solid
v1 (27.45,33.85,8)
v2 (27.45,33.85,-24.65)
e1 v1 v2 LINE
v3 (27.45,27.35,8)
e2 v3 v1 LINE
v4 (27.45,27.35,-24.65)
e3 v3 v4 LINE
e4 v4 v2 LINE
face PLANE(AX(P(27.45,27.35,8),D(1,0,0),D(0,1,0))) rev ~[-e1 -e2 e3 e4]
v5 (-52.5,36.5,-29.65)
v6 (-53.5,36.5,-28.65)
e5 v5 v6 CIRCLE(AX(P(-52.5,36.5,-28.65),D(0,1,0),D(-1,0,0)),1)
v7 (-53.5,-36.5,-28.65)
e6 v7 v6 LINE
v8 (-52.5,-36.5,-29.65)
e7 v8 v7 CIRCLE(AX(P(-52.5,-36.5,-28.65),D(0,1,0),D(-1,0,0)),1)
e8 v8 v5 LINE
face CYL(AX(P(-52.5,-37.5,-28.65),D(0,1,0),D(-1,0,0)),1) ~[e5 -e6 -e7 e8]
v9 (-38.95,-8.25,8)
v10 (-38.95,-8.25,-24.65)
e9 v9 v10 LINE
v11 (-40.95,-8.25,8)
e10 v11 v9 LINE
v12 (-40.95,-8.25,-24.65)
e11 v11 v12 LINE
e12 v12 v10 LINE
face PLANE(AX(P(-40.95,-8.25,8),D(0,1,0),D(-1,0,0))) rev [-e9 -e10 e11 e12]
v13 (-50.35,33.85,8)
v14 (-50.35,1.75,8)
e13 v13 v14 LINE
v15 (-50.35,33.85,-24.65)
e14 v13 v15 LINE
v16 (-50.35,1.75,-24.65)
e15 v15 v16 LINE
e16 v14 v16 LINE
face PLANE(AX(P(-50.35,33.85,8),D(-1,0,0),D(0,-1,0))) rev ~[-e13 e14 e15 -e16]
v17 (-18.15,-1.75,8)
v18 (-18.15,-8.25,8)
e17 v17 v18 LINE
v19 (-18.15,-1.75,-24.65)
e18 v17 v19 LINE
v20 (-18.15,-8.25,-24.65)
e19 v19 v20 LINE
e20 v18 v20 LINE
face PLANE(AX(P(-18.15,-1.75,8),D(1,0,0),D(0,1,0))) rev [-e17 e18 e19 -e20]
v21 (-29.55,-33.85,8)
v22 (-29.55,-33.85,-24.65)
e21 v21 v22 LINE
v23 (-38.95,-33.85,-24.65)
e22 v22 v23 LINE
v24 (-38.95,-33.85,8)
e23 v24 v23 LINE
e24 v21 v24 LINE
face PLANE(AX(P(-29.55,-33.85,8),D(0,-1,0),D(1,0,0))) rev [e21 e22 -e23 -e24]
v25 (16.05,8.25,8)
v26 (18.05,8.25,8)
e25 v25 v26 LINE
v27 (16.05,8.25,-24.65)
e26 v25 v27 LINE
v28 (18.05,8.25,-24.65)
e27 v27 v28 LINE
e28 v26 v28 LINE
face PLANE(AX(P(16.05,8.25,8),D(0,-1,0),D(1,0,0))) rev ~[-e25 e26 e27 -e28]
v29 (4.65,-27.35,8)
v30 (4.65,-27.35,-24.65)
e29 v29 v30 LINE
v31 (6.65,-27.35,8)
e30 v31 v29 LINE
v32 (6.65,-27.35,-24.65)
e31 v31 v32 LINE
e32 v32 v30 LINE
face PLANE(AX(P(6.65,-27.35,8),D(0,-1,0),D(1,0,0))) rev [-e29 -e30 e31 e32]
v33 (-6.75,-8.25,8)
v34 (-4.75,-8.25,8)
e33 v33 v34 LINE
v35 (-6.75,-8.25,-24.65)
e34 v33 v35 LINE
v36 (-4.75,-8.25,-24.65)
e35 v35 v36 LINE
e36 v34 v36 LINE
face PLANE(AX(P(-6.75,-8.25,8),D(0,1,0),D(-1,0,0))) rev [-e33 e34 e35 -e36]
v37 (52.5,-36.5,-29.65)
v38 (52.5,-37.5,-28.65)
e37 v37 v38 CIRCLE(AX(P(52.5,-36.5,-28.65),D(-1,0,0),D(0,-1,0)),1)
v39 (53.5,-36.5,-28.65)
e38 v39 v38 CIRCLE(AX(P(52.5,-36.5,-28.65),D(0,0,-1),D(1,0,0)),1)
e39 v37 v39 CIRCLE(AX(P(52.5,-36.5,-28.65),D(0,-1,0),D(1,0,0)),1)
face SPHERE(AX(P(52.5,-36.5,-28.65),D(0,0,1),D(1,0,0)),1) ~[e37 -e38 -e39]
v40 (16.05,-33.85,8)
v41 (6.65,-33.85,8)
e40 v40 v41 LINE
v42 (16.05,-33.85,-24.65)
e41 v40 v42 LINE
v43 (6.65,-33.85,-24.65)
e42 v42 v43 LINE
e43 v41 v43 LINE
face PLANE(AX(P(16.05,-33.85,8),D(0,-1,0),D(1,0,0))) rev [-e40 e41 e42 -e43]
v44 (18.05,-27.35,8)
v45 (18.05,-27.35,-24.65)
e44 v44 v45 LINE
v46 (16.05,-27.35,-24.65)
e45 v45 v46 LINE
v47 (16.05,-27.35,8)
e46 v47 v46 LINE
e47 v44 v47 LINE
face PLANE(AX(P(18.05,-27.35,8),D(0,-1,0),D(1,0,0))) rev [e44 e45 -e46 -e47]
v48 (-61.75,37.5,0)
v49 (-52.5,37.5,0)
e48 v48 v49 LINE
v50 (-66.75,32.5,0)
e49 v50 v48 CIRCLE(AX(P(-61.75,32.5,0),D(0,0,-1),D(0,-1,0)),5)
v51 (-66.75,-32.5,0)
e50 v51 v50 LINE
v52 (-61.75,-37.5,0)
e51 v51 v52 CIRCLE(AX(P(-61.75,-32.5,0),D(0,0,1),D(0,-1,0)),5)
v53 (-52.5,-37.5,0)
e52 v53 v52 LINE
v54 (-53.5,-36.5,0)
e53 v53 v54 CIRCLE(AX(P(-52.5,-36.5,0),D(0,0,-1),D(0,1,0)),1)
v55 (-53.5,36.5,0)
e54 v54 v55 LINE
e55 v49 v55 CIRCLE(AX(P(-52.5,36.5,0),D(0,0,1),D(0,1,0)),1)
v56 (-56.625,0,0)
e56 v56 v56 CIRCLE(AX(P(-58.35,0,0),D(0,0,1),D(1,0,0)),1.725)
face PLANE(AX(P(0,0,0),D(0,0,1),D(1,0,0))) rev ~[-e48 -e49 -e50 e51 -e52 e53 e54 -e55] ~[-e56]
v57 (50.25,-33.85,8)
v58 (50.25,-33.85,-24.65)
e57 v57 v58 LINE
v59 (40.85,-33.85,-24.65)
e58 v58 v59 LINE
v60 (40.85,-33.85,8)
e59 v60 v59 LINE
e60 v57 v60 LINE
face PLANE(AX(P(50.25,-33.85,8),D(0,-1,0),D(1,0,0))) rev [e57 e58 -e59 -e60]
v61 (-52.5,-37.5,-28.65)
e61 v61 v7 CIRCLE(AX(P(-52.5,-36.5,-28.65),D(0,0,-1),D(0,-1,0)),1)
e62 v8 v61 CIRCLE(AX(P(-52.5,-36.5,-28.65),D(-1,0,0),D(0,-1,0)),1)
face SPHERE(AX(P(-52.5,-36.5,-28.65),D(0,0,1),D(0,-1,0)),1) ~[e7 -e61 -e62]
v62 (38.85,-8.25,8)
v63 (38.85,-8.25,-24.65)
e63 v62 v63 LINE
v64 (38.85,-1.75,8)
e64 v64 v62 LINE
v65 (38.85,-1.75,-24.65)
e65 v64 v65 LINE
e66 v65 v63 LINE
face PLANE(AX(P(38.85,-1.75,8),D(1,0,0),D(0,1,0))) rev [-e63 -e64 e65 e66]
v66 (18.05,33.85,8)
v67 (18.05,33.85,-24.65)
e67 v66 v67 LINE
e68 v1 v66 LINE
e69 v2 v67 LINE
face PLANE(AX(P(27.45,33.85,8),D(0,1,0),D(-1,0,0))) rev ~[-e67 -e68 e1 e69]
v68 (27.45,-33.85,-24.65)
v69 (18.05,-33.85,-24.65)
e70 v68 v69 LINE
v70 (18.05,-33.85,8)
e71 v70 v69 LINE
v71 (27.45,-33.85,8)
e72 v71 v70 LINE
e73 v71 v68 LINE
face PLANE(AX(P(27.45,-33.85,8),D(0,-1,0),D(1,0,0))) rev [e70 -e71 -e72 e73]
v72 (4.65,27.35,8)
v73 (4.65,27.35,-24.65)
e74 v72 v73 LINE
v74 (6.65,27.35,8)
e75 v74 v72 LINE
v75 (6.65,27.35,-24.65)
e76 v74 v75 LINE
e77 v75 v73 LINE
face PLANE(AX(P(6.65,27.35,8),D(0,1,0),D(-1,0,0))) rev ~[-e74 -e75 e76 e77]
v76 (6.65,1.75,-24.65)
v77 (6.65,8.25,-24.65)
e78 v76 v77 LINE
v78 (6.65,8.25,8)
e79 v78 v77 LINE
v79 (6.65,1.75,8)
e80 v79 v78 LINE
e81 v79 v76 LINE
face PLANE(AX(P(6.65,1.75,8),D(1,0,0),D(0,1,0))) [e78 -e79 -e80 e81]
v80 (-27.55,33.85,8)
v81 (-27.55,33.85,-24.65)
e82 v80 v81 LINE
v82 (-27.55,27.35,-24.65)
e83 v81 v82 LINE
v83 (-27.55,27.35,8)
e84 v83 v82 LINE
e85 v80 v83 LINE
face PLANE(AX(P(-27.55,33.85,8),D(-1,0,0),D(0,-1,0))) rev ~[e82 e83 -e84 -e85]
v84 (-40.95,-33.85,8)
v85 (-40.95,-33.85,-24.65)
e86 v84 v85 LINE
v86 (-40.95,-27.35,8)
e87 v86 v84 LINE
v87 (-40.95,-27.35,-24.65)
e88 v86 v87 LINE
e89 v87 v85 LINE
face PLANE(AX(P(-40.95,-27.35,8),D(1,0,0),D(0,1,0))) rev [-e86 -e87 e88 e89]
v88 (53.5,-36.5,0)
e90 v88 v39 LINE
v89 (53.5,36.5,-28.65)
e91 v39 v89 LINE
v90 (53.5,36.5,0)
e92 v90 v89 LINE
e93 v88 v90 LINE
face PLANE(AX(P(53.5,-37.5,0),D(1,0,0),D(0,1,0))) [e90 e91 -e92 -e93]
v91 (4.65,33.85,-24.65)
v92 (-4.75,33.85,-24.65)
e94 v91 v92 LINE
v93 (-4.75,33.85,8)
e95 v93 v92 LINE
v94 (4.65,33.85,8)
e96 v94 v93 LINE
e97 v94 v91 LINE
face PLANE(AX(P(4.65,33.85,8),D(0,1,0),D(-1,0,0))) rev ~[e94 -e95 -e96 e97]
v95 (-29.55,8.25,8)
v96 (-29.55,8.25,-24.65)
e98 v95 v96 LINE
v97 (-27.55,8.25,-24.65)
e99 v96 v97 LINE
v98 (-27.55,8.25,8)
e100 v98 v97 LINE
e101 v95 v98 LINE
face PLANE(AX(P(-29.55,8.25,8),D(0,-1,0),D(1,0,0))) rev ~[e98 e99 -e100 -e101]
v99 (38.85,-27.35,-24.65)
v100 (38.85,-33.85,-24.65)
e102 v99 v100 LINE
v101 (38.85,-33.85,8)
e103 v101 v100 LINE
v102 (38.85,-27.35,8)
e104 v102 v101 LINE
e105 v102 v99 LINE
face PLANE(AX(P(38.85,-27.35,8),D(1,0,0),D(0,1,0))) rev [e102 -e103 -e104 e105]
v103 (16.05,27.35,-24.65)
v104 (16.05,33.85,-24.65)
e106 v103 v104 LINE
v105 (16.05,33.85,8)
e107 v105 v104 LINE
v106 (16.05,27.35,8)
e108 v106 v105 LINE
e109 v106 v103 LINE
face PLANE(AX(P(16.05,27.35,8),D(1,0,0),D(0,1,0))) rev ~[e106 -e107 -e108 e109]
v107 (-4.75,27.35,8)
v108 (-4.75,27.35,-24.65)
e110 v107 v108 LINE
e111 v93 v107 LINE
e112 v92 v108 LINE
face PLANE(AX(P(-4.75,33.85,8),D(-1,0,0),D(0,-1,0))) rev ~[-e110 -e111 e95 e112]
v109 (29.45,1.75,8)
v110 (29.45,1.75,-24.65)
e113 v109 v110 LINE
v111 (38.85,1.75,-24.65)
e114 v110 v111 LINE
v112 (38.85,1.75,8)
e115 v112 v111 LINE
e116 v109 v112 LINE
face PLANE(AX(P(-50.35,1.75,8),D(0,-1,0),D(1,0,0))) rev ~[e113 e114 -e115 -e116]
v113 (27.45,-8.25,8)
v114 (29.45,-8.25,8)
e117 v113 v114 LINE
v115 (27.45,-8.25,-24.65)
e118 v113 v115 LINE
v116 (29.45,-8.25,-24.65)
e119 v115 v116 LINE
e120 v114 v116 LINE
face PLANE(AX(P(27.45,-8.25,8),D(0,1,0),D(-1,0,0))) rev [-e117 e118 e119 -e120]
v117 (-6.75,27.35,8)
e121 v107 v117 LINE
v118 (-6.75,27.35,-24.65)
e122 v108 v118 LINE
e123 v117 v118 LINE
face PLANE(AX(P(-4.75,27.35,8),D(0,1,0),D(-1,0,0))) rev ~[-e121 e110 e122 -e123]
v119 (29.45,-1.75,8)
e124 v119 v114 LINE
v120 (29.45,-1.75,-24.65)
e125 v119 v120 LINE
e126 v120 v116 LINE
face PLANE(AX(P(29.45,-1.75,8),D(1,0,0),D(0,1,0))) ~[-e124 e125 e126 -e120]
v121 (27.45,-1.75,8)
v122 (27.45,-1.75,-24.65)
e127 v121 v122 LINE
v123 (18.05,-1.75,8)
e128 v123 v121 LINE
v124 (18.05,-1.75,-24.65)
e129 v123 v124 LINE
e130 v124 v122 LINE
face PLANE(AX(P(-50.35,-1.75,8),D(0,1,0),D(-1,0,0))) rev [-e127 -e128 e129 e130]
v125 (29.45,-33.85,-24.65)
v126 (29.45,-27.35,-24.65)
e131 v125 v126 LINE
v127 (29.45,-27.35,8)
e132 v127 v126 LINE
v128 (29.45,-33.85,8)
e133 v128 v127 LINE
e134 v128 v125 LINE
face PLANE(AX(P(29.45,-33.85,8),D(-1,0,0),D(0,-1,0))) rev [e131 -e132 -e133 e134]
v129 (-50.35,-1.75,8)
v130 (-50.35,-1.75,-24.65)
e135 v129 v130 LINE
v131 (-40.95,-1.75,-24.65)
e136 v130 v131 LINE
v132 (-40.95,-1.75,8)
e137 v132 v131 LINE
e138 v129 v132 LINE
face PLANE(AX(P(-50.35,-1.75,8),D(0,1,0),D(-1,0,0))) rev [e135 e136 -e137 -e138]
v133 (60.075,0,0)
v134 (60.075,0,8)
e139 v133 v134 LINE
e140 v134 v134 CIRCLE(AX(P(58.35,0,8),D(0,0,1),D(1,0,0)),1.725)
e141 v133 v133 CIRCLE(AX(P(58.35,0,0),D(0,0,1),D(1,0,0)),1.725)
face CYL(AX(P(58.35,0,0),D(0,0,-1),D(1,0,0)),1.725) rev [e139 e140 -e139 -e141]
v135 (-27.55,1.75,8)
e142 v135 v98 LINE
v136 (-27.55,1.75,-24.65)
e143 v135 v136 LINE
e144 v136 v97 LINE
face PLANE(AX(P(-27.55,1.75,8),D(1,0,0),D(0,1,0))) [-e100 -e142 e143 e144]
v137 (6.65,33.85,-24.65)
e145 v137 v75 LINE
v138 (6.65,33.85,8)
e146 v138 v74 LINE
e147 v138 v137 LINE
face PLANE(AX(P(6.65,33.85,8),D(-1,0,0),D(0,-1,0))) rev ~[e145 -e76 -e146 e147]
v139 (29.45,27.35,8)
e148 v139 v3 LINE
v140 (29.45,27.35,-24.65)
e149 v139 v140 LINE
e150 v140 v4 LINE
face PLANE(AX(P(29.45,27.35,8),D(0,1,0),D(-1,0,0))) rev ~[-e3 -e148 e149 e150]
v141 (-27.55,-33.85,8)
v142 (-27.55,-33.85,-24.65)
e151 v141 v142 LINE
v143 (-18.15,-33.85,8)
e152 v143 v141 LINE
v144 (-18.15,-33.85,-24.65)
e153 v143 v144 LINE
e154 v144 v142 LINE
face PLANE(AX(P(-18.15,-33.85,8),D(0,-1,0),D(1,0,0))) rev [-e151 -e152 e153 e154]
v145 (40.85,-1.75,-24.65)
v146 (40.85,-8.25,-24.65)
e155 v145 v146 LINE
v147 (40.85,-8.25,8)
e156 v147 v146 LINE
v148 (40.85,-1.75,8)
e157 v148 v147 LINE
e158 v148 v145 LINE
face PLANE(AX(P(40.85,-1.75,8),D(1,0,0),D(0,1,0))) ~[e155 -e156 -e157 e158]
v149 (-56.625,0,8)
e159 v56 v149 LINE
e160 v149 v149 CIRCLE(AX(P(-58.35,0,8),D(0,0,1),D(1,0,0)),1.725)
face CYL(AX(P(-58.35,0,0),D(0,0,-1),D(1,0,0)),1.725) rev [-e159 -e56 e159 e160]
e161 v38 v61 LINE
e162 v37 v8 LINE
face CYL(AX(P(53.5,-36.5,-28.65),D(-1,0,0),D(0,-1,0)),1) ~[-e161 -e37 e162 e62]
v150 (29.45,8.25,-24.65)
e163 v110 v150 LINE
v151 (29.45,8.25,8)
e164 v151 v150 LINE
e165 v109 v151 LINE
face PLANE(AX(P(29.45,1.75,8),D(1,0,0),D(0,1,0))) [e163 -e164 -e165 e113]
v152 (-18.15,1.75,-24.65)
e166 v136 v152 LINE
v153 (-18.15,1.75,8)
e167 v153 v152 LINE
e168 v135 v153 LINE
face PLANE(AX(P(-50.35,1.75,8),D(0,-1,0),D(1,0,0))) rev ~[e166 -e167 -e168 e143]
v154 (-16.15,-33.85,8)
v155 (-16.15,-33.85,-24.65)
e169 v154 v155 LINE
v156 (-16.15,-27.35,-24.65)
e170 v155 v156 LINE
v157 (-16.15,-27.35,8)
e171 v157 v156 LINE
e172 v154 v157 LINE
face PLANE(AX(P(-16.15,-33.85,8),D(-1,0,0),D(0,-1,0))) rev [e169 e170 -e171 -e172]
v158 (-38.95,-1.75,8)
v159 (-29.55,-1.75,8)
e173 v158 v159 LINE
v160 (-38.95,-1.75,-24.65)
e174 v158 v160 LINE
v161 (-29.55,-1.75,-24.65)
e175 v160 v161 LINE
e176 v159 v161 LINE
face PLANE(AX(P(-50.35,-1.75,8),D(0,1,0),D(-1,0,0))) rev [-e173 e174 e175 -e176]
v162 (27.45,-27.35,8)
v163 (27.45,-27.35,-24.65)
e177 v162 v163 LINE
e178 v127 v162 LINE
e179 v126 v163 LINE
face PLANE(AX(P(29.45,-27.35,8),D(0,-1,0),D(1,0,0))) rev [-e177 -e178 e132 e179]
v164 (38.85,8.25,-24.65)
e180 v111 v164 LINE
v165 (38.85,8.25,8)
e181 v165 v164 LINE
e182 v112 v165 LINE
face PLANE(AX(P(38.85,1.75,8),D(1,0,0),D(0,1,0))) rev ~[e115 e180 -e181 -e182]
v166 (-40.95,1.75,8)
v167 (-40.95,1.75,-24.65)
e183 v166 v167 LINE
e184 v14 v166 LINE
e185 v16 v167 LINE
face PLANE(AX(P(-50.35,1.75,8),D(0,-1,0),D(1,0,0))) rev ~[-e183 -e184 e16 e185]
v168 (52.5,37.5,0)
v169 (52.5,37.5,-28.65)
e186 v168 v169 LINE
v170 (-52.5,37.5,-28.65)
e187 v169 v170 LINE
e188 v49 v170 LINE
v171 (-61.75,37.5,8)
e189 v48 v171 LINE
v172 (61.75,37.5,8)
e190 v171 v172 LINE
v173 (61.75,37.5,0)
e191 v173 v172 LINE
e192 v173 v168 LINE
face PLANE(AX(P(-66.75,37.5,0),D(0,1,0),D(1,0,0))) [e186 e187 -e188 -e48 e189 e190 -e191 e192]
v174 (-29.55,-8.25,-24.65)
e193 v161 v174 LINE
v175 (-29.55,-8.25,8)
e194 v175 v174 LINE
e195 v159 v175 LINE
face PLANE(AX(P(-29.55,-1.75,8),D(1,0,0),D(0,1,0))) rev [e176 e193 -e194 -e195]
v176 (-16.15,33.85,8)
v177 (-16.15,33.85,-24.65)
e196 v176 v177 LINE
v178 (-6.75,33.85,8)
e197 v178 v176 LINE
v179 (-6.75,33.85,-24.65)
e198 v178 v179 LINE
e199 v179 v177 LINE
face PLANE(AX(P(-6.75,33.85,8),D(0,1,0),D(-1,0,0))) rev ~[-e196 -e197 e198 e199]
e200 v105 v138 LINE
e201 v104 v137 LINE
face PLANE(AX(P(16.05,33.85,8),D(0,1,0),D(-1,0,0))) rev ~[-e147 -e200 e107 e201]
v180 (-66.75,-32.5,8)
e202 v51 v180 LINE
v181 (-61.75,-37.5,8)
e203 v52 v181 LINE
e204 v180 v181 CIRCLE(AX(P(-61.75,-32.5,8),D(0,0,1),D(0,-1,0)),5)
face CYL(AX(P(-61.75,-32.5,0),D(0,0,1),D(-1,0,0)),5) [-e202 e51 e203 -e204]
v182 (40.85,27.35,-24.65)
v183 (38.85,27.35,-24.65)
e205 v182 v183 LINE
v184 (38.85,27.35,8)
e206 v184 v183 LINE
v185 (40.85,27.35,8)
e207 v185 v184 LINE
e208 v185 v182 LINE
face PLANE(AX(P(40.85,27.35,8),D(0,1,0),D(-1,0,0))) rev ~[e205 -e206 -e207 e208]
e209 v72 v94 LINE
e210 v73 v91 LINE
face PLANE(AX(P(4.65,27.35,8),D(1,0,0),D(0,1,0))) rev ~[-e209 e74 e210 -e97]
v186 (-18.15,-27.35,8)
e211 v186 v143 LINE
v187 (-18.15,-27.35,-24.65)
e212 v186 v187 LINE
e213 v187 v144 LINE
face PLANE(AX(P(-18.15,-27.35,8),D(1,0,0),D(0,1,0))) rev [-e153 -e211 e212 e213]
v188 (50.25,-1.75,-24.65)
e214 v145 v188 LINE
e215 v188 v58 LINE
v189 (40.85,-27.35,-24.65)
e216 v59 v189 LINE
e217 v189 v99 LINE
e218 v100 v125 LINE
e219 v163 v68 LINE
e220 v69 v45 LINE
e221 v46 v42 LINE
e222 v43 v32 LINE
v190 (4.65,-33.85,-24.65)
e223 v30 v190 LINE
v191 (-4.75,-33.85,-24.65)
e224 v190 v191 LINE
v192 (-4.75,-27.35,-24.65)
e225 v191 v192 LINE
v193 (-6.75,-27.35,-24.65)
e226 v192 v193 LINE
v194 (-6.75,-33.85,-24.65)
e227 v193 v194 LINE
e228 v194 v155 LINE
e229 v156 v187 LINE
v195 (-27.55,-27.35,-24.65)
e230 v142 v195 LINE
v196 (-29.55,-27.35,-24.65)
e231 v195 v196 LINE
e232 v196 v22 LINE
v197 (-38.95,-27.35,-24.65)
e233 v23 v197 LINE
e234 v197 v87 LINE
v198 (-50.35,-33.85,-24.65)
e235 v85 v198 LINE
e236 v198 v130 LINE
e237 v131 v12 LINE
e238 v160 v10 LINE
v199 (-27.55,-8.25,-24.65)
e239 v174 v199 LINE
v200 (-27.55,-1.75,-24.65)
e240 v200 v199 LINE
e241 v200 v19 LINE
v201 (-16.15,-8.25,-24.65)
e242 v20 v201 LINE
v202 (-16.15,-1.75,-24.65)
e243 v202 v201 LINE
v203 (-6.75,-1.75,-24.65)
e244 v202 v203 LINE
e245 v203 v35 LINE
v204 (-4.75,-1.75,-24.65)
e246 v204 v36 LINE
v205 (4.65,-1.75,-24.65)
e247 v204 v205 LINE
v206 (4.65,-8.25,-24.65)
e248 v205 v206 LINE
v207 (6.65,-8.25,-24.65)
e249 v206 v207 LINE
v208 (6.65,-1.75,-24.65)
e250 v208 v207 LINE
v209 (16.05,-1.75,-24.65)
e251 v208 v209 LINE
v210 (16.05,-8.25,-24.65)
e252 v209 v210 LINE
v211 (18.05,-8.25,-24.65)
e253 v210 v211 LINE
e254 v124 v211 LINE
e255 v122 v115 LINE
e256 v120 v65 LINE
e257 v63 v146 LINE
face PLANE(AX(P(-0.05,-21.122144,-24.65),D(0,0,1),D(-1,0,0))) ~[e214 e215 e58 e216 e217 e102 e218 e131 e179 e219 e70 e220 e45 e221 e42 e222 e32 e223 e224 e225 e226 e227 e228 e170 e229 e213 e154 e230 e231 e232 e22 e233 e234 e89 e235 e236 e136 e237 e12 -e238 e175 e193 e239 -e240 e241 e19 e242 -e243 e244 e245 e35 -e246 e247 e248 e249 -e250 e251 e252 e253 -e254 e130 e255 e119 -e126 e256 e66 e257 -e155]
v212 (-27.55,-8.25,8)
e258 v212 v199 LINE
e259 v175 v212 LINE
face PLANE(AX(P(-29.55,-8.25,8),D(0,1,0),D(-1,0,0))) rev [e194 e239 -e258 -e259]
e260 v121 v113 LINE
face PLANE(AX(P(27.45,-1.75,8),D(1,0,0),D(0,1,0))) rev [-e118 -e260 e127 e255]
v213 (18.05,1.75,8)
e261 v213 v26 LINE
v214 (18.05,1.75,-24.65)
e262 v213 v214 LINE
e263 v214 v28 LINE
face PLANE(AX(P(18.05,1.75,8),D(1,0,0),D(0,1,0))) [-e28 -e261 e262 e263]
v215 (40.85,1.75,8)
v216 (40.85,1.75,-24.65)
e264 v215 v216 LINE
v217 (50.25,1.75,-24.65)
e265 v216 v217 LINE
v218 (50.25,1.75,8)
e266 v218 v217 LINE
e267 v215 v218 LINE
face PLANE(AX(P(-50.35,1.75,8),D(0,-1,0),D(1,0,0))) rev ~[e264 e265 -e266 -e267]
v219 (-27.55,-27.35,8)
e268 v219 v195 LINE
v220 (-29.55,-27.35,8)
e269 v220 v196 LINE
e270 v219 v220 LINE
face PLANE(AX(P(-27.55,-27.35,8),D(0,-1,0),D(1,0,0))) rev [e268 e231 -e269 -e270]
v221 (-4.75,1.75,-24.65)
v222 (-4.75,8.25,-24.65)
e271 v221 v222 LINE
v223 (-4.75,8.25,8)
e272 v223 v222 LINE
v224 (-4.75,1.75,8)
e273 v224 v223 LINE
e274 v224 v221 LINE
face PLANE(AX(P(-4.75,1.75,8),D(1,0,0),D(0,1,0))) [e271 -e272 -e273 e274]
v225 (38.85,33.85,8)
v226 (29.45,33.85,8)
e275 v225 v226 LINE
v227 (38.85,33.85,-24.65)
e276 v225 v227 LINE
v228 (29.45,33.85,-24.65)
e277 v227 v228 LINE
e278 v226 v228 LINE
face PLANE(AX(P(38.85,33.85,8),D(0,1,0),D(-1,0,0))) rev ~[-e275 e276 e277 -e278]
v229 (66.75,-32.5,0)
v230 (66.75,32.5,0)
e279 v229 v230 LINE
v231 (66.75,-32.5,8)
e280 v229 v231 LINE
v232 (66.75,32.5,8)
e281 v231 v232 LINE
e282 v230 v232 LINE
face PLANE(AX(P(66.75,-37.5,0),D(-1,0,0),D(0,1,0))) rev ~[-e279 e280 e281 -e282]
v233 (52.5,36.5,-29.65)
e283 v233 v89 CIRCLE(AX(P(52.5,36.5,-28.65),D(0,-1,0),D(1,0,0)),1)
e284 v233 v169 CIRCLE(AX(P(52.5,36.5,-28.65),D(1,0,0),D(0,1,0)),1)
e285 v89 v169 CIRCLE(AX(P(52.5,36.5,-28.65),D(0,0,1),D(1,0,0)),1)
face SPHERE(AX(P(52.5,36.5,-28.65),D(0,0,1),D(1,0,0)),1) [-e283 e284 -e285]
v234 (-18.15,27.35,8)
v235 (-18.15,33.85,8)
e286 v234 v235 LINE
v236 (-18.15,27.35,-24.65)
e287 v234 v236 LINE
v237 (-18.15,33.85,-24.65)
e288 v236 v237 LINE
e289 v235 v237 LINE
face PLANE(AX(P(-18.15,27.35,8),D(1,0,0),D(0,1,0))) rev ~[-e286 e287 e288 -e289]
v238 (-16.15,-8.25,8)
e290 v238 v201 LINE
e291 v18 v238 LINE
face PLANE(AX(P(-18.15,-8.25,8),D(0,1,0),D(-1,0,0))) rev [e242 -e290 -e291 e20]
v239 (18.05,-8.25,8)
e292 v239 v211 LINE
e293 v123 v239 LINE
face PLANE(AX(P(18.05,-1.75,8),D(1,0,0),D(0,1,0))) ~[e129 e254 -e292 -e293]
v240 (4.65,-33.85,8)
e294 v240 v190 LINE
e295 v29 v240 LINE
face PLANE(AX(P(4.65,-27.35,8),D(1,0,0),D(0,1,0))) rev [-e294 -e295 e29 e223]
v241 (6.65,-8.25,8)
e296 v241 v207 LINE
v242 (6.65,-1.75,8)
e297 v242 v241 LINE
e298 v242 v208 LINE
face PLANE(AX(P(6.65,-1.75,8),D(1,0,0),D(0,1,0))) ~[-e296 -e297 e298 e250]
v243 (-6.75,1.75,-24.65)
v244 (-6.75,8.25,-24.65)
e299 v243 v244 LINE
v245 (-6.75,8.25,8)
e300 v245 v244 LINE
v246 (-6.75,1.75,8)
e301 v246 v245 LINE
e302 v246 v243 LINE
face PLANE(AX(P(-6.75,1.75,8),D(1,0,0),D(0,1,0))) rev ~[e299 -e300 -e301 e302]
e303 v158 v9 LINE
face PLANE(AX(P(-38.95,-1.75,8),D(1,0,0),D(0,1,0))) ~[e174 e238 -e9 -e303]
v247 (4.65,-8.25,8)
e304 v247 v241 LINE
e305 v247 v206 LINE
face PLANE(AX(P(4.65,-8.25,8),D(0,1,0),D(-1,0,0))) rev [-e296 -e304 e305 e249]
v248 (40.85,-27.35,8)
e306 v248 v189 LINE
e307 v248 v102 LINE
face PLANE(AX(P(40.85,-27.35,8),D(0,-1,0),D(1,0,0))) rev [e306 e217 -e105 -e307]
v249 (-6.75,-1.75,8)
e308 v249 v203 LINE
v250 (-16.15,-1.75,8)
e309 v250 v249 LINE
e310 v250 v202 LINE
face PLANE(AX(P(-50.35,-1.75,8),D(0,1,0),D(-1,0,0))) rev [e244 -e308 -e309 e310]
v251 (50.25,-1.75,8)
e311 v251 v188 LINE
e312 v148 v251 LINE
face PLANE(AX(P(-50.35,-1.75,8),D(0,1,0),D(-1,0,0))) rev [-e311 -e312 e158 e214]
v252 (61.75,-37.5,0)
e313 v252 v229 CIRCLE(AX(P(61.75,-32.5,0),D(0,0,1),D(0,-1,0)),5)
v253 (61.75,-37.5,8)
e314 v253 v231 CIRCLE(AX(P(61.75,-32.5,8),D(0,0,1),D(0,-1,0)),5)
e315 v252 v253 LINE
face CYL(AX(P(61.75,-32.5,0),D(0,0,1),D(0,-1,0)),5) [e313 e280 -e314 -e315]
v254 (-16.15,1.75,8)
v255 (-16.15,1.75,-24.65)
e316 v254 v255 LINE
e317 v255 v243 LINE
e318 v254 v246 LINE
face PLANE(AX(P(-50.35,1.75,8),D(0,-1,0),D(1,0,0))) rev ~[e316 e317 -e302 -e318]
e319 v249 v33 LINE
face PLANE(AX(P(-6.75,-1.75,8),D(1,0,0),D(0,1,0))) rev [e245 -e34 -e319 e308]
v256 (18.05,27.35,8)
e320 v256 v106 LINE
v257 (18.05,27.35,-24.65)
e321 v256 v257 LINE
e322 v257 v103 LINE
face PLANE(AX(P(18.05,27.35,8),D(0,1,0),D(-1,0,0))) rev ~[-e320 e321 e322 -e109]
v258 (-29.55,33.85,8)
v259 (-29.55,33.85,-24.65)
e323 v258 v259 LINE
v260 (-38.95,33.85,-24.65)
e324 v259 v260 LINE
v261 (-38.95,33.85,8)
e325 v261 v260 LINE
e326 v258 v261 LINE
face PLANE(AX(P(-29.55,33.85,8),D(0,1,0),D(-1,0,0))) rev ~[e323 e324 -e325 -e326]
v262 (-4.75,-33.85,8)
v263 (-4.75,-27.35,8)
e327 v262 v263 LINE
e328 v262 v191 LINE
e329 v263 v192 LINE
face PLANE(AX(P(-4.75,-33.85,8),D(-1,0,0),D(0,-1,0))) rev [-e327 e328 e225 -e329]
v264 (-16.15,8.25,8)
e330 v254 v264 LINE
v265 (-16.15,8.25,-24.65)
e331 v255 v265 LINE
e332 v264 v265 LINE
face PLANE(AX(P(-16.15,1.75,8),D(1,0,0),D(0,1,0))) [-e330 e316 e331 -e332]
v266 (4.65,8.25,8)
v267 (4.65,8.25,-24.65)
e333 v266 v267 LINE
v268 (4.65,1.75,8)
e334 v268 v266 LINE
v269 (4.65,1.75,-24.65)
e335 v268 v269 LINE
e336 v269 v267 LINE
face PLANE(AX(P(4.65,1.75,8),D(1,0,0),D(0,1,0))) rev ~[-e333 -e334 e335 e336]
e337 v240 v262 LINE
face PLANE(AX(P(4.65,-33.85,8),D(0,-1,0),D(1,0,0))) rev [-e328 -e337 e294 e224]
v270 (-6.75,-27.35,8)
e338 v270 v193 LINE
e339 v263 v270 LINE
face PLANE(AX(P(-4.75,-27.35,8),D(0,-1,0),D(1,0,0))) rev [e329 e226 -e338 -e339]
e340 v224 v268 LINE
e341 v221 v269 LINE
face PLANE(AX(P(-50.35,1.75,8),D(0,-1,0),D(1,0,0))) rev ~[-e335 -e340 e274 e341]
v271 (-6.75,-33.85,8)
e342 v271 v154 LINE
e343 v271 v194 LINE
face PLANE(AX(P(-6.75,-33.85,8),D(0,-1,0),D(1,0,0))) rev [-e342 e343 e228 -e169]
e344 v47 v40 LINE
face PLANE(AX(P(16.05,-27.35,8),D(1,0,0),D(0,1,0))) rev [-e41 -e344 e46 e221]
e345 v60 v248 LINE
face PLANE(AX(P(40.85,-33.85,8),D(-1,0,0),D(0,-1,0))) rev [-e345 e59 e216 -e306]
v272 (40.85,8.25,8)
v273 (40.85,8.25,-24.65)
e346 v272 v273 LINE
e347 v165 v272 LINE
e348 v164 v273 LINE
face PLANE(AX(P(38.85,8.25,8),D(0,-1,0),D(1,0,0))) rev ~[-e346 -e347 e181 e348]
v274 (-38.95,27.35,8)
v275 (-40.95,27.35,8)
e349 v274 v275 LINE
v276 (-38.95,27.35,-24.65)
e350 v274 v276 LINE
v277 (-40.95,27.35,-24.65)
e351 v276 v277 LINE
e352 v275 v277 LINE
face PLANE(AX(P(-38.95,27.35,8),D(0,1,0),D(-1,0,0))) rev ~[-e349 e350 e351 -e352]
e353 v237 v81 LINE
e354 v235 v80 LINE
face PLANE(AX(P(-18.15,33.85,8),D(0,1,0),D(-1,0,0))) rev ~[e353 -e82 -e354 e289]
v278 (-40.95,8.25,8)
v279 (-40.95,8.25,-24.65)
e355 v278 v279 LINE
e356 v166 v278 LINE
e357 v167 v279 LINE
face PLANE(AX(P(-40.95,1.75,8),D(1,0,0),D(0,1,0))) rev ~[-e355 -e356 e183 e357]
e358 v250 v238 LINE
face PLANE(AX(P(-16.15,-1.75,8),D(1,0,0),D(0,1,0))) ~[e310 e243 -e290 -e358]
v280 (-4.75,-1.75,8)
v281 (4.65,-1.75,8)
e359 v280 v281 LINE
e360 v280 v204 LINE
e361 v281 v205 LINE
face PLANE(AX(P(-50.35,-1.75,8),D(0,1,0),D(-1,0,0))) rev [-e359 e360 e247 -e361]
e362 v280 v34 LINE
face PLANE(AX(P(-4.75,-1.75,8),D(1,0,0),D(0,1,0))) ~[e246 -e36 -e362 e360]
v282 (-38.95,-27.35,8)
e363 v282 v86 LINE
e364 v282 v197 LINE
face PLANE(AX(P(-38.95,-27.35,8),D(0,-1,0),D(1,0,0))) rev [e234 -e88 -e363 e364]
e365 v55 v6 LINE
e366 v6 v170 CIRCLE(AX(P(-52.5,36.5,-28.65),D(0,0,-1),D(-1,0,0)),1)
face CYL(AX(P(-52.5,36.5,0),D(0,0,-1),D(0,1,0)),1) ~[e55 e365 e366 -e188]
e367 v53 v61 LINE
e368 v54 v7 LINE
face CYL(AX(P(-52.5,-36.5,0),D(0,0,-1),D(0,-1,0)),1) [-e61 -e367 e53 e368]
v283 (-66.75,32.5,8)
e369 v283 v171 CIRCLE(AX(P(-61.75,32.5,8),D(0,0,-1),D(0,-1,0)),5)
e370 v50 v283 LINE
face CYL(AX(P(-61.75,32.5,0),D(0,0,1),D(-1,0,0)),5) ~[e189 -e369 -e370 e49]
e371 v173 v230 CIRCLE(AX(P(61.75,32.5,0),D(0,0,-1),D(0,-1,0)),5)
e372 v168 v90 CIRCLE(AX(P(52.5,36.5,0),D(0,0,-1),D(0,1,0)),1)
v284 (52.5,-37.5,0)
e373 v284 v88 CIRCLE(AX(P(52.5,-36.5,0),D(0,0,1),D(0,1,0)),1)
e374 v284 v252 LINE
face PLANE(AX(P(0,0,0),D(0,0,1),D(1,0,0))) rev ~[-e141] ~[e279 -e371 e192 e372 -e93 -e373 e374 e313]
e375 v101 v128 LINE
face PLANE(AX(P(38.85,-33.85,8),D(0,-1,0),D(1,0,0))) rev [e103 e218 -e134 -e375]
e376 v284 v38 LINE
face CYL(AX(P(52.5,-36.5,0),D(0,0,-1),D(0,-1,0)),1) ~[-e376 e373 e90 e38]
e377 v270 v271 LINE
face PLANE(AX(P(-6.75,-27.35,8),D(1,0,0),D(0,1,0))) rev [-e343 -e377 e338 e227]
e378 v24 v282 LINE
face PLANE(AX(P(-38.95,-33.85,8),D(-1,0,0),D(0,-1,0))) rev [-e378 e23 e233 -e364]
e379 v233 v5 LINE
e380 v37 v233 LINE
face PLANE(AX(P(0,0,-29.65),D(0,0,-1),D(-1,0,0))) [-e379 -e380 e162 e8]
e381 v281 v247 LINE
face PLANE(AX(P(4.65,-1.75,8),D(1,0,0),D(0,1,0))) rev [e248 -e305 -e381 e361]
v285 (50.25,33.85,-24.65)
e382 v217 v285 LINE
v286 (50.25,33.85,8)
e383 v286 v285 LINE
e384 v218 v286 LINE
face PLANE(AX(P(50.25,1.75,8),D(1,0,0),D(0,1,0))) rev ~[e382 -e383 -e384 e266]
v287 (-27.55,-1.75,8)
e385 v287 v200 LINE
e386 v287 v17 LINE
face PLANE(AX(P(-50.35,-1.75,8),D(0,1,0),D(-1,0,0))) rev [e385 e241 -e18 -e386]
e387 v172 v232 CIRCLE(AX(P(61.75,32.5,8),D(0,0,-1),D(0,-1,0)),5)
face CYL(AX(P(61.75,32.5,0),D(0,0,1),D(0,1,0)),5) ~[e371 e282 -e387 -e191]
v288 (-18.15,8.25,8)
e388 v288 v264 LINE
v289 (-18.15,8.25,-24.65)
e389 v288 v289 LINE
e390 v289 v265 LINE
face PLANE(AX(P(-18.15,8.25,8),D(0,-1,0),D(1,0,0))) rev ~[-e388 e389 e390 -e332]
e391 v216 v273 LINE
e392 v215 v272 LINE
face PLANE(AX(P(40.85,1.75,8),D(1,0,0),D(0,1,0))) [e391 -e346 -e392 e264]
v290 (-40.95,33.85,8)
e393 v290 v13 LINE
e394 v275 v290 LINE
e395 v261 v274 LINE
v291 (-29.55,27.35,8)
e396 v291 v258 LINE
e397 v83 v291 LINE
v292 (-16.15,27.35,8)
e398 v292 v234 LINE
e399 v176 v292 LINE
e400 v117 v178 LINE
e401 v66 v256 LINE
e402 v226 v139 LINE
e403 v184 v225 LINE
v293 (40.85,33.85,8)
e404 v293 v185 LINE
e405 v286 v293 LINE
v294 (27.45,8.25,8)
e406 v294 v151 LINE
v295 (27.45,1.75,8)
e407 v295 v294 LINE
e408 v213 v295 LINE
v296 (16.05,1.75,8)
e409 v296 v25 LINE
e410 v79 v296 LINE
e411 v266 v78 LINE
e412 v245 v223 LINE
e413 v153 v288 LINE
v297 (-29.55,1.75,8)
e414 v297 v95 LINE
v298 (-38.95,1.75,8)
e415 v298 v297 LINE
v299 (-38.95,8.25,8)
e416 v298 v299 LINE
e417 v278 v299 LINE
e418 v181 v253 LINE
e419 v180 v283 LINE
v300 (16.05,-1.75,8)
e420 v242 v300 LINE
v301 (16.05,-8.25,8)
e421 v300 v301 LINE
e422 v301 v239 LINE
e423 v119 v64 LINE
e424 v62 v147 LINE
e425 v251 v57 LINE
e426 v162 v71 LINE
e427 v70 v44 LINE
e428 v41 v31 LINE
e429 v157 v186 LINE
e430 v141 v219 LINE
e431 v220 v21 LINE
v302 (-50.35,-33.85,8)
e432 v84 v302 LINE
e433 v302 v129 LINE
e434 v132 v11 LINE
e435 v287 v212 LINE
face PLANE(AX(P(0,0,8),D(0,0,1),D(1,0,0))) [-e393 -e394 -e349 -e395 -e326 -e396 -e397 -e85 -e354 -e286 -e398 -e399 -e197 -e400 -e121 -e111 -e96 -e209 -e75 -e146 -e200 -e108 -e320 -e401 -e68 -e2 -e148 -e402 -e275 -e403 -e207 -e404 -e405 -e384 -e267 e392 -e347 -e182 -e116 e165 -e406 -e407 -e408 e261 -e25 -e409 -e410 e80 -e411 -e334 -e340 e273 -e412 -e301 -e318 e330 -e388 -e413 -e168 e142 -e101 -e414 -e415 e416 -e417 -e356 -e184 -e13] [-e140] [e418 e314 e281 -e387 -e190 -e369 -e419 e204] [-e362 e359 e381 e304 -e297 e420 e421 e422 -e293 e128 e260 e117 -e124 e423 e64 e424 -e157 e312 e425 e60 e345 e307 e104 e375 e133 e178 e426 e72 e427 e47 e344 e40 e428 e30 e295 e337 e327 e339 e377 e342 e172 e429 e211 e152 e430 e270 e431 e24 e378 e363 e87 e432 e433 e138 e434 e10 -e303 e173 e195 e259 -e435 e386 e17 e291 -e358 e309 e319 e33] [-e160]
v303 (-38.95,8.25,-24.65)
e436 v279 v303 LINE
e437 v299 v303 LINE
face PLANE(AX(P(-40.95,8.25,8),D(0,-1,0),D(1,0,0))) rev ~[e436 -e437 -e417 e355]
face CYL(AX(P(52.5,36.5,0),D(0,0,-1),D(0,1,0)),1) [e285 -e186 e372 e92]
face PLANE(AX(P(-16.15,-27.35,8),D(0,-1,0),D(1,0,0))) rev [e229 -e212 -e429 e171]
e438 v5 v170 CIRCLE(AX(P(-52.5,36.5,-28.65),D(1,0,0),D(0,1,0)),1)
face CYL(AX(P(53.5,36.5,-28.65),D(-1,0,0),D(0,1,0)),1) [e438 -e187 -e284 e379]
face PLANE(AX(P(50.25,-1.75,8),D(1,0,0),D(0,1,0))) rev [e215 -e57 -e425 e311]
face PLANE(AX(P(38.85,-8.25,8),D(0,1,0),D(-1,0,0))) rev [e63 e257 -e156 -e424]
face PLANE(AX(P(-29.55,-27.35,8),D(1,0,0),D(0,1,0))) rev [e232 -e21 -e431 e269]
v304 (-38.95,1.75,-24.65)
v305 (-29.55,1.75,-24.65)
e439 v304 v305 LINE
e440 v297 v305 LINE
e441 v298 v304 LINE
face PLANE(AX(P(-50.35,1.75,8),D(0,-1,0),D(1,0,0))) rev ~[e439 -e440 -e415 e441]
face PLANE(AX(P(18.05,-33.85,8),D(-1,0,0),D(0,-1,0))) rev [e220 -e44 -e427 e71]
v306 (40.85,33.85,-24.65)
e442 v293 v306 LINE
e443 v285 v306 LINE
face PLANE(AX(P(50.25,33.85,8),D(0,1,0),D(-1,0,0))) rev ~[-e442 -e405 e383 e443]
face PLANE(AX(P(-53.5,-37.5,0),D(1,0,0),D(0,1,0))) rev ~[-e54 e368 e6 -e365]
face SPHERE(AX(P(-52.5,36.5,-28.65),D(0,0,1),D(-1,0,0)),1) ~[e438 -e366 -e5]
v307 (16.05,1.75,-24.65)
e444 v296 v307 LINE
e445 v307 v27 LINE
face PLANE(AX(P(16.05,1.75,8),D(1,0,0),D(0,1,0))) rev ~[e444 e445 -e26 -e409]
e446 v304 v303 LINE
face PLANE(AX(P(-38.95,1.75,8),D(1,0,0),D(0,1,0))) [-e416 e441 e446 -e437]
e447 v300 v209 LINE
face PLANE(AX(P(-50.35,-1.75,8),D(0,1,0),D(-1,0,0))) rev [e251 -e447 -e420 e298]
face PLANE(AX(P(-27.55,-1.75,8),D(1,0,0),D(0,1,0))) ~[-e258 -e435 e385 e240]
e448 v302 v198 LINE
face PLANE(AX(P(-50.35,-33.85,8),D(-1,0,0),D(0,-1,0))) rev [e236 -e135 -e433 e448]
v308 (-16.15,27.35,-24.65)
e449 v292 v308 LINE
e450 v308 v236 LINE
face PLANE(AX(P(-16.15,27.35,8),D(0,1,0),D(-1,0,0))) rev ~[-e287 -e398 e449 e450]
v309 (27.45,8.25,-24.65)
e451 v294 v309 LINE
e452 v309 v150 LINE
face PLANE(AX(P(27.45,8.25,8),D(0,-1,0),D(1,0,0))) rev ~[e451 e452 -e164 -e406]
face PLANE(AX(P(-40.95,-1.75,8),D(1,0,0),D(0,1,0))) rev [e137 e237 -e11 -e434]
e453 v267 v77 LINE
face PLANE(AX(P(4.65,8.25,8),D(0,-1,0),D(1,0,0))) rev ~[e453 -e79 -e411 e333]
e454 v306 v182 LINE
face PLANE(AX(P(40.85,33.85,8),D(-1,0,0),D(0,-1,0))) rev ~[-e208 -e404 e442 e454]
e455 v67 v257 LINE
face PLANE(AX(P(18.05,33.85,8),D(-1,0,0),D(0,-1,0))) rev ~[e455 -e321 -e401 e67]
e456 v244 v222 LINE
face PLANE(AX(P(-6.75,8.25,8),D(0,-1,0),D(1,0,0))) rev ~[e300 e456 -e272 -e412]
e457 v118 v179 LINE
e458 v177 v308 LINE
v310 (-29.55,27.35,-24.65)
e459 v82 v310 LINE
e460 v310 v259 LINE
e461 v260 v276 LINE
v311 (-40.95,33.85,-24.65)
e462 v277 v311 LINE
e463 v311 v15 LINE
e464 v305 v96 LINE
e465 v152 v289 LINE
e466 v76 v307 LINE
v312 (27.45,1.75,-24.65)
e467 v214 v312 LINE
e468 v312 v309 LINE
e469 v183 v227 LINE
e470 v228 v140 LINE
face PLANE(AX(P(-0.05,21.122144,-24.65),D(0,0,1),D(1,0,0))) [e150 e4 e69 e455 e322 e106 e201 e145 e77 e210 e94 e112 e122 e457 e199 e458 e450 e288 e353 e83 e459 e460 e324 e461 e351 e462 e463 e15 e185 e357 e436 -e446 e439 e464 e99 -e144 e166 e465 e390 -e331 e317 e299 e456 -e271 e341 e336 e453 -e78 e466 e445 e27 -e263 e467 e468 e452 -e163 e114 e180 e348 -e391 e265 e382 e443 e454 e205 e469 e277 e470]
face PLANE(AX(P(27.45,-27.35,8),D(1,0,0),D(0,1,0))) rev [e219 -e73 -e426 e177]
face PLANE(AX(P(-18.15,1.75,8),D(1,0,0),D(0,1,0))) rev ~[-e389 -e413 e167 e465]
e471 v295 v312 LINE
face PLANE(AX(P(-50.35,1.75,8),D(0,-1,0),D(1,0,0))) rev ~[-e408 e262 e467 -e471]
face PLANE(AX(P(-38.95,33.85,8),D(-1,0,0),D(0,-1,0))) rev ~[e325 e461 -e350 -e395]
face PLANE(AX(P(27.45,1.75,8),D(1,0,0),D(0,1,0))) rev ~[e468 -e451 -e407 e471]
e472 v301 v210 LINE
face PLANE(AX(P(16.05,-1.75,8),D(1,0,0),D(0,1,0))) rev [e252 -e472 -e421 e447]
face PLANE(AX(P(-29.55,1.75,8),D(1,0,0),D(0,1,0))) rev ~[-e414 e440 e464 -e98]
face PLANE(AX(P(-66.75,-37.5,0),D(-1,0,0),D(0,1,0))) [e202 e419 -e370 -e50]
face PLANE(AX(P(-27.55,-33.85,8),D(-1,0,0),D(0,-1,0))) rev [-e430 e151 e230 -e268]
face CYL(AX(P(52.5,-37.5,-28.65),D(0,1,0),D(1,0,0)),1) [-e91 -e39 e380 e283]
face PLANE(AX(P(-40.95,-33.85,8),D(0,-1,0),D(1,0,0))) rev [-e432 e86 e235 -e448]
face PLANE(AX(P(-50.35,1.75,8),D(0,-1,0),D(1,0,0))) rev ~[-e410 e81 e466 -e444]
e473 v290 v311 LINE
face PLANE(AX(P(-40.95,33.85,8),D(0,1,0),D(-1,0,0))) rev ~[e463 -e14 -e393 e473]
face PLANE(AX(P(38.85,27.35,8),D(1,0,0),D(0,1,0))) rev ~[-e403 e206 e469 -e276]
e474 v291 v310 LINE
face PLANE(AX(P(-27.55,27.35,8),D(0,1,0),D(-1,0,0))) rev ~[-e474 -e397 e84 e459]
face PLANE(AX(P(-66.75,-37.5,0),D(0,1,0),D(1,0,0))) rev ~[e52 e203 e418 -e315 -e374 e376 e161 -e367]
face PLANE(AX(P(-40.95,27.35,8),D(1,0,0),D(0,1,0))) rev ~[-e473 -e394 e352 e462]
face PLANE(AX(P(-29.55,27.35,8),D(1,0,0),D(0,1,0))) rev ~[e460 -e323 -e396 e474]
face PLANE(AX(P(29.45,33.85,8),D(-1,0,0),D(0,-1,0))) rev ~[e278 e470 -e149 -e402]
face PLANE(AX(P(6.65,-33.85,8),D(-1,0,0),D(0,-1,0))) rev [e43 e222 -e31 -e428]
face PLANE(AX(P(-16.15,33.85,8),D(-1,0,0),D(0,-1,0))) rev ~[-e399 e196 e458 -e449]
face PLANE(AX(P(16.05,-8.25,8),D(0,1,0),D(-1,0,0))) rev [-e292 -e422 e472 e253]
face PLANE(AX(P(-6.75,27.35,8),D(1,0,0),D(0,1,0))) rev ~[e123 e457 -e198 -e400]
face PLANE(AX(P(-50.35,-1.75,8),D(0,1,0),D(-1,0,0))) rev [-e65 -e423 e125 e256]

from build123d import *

# Parameters (mm, degrees)
SKETCH1_W           = 133.5
SKETCH1_H           = 75
SKETCH1_R           = 1.725
BOSS_EXTRUDE1_DEPTH = 8
SKETCH2_W           = 107
SKETCH2_H           = 75
BOSS_EXTRUDE2_DEPTH = 29.65
CUT_EXTRUDE1_DEPTH  = 32.65
SKETCH4_W           = 2
SKETCH4_H           = 6.5
BOSS_EXTRUDE3_DEPTH = 32.65
FILLET1_R           = 5
FILLET4_R           = 1


with BuildPart() as part:
    # Sketch1 → Boss-Extrude1 (new body)
    with BuildSketch(Plane.XY):
        Rectangle(SKETCH1_W, SKETCH1_H)
        with Locations((-58.35, 0)):
            Circle(SKETCH1_R, mode=Mode.SUBTRACT)
        with Locations((58.35, 0)):
            Circle(SKETCH1_R, mode=Mode.SUBTRACT)
    extrude(amount=BOSS_EXTRUDE1_DEPTH)

    # Sketch2 → Boss-Extrude2 (add)
    with BuildSketch(Plane(origin=(0, 0, 0), x_dir=(-1, 0, 0), z_dir=(0, 0, -1))):
        Rectangle(SKETCH2_W, SKETCH2_H)
    extrude(amount=BOSS_EXTRUDE2_DEPTH)

    # Sketch3 → Cut-Extrude1 (cut)
    with BuildSketch(Plane.XY.offset(8)):
        Polygon((-38.95, 33.85), (-38.95, 27.35), (-40.95, 27.35), (-40.95, 33.85), (-50.35, 33.85), (-50.35, 1.75), (50.25, 1.75), (50.25, 33.85), (40.85, 33.85), (40.85, 27.35), (38.85, 27.35), (38.85, 33.85), (29.45, 33.85), (29.45, 27.35), (27.45, 27.35), (27.45, 33.85), (18.05, 33.85), (18.05, 27.35), (16.05, 27.35), (16.05, 33.85), (6.65, 33.85), (6.65, 27.35), (4.65, 27.35), (4.65, 33.85), (-4.75, 33.85), (-4.75, 27.35), (-6.75, 27.35), (-6.75, 33.85), (-16.15, 33.85), (-16.15, 27.35), (-18.15, 27.35), (-18.15, 33.85), (-27.55, 33.85), (-27.55, 27.35), (-29.55, 27.35), (-29.55, 33.85), align=None)
    cut_extrude1 = extrude(amount=-CUT_EXTRUDE1_DEPTH, mode=Mode.SUBTRACT)

    # Mirror1: Cut-Extrude1 across plane
    add(cut_extrude1.mirror(Plane.ZX), mode=Mode.SUBTRACT)

    # Sketch4 → Boss-Extrude3 (add)
    with BuildSketch(Plane.XY.offset(8)):
        with Locations((-39.95, 5)):
            Rectangle(SKETCH4_W, SKETCH4_H)
        with Locations((-28.55, 5)):
            Rectangle(SKETCH4_W, SKETCH4_H)
        with Locations((-17.15, 5)):
            Rectangle(SKETCH4_W, SKETCH4_H)
        with Locations((-5.75, 5)):
            Rectangle(SKETCH4_W, SKETCH4_H)
        with Locations((5.65, 5)):
            Rectangle(SKETCH4_W, SKETCH4_H)
        with Locations((17.05, 5)):
            Rectangle(SKETCH4_W, SKETCH4_H)
        with Locations((28.45, 5)):
            Rectangle(SKETCH4_W, SKETCH4_H)
        with Locations((39.85, 5)):
            Rectangle(SKETCH4_W, SKETCH4_H)
    boss_extrude3 = extrude(amount=-BOSS_EXTRUDE3_DEPTH)

    # Mirror2: Boss-Extrude3 across plane
    add(boss_extrude3.mirror(Plane.ZX))

    # Fillet1
    fillet1_edges = [part.edges().sort_by_distance(p)[0] for p in [
        (-66.75, 37.5, 4),
        (66.75, 37.5, 4),
        (66.75, -37.5, 4),
        (-66.75, -37.5, 4),
    ]]
    fillet(fillet1_edges, radius=FILLET1_R)

    # Fillet4
    fillet4_edges = [part.edges().sort_by_distance(p)[0] for p in [
        (53.5, 37.5, -14.825),
        (53.5, -37.5, -14.825),
        (-53.5, -37.5, -14.825),
        (-53.5, 37.5, -14.825),
        (53.5, 0, -29.65),
        (0, -37.5, -29.65),
        (-53.5, 0, -29.65),
        (0, 37.5, -29.65),
    ]]
    fillet(fillet4_edges, radius=FILLET4_R)


solid = part.part
